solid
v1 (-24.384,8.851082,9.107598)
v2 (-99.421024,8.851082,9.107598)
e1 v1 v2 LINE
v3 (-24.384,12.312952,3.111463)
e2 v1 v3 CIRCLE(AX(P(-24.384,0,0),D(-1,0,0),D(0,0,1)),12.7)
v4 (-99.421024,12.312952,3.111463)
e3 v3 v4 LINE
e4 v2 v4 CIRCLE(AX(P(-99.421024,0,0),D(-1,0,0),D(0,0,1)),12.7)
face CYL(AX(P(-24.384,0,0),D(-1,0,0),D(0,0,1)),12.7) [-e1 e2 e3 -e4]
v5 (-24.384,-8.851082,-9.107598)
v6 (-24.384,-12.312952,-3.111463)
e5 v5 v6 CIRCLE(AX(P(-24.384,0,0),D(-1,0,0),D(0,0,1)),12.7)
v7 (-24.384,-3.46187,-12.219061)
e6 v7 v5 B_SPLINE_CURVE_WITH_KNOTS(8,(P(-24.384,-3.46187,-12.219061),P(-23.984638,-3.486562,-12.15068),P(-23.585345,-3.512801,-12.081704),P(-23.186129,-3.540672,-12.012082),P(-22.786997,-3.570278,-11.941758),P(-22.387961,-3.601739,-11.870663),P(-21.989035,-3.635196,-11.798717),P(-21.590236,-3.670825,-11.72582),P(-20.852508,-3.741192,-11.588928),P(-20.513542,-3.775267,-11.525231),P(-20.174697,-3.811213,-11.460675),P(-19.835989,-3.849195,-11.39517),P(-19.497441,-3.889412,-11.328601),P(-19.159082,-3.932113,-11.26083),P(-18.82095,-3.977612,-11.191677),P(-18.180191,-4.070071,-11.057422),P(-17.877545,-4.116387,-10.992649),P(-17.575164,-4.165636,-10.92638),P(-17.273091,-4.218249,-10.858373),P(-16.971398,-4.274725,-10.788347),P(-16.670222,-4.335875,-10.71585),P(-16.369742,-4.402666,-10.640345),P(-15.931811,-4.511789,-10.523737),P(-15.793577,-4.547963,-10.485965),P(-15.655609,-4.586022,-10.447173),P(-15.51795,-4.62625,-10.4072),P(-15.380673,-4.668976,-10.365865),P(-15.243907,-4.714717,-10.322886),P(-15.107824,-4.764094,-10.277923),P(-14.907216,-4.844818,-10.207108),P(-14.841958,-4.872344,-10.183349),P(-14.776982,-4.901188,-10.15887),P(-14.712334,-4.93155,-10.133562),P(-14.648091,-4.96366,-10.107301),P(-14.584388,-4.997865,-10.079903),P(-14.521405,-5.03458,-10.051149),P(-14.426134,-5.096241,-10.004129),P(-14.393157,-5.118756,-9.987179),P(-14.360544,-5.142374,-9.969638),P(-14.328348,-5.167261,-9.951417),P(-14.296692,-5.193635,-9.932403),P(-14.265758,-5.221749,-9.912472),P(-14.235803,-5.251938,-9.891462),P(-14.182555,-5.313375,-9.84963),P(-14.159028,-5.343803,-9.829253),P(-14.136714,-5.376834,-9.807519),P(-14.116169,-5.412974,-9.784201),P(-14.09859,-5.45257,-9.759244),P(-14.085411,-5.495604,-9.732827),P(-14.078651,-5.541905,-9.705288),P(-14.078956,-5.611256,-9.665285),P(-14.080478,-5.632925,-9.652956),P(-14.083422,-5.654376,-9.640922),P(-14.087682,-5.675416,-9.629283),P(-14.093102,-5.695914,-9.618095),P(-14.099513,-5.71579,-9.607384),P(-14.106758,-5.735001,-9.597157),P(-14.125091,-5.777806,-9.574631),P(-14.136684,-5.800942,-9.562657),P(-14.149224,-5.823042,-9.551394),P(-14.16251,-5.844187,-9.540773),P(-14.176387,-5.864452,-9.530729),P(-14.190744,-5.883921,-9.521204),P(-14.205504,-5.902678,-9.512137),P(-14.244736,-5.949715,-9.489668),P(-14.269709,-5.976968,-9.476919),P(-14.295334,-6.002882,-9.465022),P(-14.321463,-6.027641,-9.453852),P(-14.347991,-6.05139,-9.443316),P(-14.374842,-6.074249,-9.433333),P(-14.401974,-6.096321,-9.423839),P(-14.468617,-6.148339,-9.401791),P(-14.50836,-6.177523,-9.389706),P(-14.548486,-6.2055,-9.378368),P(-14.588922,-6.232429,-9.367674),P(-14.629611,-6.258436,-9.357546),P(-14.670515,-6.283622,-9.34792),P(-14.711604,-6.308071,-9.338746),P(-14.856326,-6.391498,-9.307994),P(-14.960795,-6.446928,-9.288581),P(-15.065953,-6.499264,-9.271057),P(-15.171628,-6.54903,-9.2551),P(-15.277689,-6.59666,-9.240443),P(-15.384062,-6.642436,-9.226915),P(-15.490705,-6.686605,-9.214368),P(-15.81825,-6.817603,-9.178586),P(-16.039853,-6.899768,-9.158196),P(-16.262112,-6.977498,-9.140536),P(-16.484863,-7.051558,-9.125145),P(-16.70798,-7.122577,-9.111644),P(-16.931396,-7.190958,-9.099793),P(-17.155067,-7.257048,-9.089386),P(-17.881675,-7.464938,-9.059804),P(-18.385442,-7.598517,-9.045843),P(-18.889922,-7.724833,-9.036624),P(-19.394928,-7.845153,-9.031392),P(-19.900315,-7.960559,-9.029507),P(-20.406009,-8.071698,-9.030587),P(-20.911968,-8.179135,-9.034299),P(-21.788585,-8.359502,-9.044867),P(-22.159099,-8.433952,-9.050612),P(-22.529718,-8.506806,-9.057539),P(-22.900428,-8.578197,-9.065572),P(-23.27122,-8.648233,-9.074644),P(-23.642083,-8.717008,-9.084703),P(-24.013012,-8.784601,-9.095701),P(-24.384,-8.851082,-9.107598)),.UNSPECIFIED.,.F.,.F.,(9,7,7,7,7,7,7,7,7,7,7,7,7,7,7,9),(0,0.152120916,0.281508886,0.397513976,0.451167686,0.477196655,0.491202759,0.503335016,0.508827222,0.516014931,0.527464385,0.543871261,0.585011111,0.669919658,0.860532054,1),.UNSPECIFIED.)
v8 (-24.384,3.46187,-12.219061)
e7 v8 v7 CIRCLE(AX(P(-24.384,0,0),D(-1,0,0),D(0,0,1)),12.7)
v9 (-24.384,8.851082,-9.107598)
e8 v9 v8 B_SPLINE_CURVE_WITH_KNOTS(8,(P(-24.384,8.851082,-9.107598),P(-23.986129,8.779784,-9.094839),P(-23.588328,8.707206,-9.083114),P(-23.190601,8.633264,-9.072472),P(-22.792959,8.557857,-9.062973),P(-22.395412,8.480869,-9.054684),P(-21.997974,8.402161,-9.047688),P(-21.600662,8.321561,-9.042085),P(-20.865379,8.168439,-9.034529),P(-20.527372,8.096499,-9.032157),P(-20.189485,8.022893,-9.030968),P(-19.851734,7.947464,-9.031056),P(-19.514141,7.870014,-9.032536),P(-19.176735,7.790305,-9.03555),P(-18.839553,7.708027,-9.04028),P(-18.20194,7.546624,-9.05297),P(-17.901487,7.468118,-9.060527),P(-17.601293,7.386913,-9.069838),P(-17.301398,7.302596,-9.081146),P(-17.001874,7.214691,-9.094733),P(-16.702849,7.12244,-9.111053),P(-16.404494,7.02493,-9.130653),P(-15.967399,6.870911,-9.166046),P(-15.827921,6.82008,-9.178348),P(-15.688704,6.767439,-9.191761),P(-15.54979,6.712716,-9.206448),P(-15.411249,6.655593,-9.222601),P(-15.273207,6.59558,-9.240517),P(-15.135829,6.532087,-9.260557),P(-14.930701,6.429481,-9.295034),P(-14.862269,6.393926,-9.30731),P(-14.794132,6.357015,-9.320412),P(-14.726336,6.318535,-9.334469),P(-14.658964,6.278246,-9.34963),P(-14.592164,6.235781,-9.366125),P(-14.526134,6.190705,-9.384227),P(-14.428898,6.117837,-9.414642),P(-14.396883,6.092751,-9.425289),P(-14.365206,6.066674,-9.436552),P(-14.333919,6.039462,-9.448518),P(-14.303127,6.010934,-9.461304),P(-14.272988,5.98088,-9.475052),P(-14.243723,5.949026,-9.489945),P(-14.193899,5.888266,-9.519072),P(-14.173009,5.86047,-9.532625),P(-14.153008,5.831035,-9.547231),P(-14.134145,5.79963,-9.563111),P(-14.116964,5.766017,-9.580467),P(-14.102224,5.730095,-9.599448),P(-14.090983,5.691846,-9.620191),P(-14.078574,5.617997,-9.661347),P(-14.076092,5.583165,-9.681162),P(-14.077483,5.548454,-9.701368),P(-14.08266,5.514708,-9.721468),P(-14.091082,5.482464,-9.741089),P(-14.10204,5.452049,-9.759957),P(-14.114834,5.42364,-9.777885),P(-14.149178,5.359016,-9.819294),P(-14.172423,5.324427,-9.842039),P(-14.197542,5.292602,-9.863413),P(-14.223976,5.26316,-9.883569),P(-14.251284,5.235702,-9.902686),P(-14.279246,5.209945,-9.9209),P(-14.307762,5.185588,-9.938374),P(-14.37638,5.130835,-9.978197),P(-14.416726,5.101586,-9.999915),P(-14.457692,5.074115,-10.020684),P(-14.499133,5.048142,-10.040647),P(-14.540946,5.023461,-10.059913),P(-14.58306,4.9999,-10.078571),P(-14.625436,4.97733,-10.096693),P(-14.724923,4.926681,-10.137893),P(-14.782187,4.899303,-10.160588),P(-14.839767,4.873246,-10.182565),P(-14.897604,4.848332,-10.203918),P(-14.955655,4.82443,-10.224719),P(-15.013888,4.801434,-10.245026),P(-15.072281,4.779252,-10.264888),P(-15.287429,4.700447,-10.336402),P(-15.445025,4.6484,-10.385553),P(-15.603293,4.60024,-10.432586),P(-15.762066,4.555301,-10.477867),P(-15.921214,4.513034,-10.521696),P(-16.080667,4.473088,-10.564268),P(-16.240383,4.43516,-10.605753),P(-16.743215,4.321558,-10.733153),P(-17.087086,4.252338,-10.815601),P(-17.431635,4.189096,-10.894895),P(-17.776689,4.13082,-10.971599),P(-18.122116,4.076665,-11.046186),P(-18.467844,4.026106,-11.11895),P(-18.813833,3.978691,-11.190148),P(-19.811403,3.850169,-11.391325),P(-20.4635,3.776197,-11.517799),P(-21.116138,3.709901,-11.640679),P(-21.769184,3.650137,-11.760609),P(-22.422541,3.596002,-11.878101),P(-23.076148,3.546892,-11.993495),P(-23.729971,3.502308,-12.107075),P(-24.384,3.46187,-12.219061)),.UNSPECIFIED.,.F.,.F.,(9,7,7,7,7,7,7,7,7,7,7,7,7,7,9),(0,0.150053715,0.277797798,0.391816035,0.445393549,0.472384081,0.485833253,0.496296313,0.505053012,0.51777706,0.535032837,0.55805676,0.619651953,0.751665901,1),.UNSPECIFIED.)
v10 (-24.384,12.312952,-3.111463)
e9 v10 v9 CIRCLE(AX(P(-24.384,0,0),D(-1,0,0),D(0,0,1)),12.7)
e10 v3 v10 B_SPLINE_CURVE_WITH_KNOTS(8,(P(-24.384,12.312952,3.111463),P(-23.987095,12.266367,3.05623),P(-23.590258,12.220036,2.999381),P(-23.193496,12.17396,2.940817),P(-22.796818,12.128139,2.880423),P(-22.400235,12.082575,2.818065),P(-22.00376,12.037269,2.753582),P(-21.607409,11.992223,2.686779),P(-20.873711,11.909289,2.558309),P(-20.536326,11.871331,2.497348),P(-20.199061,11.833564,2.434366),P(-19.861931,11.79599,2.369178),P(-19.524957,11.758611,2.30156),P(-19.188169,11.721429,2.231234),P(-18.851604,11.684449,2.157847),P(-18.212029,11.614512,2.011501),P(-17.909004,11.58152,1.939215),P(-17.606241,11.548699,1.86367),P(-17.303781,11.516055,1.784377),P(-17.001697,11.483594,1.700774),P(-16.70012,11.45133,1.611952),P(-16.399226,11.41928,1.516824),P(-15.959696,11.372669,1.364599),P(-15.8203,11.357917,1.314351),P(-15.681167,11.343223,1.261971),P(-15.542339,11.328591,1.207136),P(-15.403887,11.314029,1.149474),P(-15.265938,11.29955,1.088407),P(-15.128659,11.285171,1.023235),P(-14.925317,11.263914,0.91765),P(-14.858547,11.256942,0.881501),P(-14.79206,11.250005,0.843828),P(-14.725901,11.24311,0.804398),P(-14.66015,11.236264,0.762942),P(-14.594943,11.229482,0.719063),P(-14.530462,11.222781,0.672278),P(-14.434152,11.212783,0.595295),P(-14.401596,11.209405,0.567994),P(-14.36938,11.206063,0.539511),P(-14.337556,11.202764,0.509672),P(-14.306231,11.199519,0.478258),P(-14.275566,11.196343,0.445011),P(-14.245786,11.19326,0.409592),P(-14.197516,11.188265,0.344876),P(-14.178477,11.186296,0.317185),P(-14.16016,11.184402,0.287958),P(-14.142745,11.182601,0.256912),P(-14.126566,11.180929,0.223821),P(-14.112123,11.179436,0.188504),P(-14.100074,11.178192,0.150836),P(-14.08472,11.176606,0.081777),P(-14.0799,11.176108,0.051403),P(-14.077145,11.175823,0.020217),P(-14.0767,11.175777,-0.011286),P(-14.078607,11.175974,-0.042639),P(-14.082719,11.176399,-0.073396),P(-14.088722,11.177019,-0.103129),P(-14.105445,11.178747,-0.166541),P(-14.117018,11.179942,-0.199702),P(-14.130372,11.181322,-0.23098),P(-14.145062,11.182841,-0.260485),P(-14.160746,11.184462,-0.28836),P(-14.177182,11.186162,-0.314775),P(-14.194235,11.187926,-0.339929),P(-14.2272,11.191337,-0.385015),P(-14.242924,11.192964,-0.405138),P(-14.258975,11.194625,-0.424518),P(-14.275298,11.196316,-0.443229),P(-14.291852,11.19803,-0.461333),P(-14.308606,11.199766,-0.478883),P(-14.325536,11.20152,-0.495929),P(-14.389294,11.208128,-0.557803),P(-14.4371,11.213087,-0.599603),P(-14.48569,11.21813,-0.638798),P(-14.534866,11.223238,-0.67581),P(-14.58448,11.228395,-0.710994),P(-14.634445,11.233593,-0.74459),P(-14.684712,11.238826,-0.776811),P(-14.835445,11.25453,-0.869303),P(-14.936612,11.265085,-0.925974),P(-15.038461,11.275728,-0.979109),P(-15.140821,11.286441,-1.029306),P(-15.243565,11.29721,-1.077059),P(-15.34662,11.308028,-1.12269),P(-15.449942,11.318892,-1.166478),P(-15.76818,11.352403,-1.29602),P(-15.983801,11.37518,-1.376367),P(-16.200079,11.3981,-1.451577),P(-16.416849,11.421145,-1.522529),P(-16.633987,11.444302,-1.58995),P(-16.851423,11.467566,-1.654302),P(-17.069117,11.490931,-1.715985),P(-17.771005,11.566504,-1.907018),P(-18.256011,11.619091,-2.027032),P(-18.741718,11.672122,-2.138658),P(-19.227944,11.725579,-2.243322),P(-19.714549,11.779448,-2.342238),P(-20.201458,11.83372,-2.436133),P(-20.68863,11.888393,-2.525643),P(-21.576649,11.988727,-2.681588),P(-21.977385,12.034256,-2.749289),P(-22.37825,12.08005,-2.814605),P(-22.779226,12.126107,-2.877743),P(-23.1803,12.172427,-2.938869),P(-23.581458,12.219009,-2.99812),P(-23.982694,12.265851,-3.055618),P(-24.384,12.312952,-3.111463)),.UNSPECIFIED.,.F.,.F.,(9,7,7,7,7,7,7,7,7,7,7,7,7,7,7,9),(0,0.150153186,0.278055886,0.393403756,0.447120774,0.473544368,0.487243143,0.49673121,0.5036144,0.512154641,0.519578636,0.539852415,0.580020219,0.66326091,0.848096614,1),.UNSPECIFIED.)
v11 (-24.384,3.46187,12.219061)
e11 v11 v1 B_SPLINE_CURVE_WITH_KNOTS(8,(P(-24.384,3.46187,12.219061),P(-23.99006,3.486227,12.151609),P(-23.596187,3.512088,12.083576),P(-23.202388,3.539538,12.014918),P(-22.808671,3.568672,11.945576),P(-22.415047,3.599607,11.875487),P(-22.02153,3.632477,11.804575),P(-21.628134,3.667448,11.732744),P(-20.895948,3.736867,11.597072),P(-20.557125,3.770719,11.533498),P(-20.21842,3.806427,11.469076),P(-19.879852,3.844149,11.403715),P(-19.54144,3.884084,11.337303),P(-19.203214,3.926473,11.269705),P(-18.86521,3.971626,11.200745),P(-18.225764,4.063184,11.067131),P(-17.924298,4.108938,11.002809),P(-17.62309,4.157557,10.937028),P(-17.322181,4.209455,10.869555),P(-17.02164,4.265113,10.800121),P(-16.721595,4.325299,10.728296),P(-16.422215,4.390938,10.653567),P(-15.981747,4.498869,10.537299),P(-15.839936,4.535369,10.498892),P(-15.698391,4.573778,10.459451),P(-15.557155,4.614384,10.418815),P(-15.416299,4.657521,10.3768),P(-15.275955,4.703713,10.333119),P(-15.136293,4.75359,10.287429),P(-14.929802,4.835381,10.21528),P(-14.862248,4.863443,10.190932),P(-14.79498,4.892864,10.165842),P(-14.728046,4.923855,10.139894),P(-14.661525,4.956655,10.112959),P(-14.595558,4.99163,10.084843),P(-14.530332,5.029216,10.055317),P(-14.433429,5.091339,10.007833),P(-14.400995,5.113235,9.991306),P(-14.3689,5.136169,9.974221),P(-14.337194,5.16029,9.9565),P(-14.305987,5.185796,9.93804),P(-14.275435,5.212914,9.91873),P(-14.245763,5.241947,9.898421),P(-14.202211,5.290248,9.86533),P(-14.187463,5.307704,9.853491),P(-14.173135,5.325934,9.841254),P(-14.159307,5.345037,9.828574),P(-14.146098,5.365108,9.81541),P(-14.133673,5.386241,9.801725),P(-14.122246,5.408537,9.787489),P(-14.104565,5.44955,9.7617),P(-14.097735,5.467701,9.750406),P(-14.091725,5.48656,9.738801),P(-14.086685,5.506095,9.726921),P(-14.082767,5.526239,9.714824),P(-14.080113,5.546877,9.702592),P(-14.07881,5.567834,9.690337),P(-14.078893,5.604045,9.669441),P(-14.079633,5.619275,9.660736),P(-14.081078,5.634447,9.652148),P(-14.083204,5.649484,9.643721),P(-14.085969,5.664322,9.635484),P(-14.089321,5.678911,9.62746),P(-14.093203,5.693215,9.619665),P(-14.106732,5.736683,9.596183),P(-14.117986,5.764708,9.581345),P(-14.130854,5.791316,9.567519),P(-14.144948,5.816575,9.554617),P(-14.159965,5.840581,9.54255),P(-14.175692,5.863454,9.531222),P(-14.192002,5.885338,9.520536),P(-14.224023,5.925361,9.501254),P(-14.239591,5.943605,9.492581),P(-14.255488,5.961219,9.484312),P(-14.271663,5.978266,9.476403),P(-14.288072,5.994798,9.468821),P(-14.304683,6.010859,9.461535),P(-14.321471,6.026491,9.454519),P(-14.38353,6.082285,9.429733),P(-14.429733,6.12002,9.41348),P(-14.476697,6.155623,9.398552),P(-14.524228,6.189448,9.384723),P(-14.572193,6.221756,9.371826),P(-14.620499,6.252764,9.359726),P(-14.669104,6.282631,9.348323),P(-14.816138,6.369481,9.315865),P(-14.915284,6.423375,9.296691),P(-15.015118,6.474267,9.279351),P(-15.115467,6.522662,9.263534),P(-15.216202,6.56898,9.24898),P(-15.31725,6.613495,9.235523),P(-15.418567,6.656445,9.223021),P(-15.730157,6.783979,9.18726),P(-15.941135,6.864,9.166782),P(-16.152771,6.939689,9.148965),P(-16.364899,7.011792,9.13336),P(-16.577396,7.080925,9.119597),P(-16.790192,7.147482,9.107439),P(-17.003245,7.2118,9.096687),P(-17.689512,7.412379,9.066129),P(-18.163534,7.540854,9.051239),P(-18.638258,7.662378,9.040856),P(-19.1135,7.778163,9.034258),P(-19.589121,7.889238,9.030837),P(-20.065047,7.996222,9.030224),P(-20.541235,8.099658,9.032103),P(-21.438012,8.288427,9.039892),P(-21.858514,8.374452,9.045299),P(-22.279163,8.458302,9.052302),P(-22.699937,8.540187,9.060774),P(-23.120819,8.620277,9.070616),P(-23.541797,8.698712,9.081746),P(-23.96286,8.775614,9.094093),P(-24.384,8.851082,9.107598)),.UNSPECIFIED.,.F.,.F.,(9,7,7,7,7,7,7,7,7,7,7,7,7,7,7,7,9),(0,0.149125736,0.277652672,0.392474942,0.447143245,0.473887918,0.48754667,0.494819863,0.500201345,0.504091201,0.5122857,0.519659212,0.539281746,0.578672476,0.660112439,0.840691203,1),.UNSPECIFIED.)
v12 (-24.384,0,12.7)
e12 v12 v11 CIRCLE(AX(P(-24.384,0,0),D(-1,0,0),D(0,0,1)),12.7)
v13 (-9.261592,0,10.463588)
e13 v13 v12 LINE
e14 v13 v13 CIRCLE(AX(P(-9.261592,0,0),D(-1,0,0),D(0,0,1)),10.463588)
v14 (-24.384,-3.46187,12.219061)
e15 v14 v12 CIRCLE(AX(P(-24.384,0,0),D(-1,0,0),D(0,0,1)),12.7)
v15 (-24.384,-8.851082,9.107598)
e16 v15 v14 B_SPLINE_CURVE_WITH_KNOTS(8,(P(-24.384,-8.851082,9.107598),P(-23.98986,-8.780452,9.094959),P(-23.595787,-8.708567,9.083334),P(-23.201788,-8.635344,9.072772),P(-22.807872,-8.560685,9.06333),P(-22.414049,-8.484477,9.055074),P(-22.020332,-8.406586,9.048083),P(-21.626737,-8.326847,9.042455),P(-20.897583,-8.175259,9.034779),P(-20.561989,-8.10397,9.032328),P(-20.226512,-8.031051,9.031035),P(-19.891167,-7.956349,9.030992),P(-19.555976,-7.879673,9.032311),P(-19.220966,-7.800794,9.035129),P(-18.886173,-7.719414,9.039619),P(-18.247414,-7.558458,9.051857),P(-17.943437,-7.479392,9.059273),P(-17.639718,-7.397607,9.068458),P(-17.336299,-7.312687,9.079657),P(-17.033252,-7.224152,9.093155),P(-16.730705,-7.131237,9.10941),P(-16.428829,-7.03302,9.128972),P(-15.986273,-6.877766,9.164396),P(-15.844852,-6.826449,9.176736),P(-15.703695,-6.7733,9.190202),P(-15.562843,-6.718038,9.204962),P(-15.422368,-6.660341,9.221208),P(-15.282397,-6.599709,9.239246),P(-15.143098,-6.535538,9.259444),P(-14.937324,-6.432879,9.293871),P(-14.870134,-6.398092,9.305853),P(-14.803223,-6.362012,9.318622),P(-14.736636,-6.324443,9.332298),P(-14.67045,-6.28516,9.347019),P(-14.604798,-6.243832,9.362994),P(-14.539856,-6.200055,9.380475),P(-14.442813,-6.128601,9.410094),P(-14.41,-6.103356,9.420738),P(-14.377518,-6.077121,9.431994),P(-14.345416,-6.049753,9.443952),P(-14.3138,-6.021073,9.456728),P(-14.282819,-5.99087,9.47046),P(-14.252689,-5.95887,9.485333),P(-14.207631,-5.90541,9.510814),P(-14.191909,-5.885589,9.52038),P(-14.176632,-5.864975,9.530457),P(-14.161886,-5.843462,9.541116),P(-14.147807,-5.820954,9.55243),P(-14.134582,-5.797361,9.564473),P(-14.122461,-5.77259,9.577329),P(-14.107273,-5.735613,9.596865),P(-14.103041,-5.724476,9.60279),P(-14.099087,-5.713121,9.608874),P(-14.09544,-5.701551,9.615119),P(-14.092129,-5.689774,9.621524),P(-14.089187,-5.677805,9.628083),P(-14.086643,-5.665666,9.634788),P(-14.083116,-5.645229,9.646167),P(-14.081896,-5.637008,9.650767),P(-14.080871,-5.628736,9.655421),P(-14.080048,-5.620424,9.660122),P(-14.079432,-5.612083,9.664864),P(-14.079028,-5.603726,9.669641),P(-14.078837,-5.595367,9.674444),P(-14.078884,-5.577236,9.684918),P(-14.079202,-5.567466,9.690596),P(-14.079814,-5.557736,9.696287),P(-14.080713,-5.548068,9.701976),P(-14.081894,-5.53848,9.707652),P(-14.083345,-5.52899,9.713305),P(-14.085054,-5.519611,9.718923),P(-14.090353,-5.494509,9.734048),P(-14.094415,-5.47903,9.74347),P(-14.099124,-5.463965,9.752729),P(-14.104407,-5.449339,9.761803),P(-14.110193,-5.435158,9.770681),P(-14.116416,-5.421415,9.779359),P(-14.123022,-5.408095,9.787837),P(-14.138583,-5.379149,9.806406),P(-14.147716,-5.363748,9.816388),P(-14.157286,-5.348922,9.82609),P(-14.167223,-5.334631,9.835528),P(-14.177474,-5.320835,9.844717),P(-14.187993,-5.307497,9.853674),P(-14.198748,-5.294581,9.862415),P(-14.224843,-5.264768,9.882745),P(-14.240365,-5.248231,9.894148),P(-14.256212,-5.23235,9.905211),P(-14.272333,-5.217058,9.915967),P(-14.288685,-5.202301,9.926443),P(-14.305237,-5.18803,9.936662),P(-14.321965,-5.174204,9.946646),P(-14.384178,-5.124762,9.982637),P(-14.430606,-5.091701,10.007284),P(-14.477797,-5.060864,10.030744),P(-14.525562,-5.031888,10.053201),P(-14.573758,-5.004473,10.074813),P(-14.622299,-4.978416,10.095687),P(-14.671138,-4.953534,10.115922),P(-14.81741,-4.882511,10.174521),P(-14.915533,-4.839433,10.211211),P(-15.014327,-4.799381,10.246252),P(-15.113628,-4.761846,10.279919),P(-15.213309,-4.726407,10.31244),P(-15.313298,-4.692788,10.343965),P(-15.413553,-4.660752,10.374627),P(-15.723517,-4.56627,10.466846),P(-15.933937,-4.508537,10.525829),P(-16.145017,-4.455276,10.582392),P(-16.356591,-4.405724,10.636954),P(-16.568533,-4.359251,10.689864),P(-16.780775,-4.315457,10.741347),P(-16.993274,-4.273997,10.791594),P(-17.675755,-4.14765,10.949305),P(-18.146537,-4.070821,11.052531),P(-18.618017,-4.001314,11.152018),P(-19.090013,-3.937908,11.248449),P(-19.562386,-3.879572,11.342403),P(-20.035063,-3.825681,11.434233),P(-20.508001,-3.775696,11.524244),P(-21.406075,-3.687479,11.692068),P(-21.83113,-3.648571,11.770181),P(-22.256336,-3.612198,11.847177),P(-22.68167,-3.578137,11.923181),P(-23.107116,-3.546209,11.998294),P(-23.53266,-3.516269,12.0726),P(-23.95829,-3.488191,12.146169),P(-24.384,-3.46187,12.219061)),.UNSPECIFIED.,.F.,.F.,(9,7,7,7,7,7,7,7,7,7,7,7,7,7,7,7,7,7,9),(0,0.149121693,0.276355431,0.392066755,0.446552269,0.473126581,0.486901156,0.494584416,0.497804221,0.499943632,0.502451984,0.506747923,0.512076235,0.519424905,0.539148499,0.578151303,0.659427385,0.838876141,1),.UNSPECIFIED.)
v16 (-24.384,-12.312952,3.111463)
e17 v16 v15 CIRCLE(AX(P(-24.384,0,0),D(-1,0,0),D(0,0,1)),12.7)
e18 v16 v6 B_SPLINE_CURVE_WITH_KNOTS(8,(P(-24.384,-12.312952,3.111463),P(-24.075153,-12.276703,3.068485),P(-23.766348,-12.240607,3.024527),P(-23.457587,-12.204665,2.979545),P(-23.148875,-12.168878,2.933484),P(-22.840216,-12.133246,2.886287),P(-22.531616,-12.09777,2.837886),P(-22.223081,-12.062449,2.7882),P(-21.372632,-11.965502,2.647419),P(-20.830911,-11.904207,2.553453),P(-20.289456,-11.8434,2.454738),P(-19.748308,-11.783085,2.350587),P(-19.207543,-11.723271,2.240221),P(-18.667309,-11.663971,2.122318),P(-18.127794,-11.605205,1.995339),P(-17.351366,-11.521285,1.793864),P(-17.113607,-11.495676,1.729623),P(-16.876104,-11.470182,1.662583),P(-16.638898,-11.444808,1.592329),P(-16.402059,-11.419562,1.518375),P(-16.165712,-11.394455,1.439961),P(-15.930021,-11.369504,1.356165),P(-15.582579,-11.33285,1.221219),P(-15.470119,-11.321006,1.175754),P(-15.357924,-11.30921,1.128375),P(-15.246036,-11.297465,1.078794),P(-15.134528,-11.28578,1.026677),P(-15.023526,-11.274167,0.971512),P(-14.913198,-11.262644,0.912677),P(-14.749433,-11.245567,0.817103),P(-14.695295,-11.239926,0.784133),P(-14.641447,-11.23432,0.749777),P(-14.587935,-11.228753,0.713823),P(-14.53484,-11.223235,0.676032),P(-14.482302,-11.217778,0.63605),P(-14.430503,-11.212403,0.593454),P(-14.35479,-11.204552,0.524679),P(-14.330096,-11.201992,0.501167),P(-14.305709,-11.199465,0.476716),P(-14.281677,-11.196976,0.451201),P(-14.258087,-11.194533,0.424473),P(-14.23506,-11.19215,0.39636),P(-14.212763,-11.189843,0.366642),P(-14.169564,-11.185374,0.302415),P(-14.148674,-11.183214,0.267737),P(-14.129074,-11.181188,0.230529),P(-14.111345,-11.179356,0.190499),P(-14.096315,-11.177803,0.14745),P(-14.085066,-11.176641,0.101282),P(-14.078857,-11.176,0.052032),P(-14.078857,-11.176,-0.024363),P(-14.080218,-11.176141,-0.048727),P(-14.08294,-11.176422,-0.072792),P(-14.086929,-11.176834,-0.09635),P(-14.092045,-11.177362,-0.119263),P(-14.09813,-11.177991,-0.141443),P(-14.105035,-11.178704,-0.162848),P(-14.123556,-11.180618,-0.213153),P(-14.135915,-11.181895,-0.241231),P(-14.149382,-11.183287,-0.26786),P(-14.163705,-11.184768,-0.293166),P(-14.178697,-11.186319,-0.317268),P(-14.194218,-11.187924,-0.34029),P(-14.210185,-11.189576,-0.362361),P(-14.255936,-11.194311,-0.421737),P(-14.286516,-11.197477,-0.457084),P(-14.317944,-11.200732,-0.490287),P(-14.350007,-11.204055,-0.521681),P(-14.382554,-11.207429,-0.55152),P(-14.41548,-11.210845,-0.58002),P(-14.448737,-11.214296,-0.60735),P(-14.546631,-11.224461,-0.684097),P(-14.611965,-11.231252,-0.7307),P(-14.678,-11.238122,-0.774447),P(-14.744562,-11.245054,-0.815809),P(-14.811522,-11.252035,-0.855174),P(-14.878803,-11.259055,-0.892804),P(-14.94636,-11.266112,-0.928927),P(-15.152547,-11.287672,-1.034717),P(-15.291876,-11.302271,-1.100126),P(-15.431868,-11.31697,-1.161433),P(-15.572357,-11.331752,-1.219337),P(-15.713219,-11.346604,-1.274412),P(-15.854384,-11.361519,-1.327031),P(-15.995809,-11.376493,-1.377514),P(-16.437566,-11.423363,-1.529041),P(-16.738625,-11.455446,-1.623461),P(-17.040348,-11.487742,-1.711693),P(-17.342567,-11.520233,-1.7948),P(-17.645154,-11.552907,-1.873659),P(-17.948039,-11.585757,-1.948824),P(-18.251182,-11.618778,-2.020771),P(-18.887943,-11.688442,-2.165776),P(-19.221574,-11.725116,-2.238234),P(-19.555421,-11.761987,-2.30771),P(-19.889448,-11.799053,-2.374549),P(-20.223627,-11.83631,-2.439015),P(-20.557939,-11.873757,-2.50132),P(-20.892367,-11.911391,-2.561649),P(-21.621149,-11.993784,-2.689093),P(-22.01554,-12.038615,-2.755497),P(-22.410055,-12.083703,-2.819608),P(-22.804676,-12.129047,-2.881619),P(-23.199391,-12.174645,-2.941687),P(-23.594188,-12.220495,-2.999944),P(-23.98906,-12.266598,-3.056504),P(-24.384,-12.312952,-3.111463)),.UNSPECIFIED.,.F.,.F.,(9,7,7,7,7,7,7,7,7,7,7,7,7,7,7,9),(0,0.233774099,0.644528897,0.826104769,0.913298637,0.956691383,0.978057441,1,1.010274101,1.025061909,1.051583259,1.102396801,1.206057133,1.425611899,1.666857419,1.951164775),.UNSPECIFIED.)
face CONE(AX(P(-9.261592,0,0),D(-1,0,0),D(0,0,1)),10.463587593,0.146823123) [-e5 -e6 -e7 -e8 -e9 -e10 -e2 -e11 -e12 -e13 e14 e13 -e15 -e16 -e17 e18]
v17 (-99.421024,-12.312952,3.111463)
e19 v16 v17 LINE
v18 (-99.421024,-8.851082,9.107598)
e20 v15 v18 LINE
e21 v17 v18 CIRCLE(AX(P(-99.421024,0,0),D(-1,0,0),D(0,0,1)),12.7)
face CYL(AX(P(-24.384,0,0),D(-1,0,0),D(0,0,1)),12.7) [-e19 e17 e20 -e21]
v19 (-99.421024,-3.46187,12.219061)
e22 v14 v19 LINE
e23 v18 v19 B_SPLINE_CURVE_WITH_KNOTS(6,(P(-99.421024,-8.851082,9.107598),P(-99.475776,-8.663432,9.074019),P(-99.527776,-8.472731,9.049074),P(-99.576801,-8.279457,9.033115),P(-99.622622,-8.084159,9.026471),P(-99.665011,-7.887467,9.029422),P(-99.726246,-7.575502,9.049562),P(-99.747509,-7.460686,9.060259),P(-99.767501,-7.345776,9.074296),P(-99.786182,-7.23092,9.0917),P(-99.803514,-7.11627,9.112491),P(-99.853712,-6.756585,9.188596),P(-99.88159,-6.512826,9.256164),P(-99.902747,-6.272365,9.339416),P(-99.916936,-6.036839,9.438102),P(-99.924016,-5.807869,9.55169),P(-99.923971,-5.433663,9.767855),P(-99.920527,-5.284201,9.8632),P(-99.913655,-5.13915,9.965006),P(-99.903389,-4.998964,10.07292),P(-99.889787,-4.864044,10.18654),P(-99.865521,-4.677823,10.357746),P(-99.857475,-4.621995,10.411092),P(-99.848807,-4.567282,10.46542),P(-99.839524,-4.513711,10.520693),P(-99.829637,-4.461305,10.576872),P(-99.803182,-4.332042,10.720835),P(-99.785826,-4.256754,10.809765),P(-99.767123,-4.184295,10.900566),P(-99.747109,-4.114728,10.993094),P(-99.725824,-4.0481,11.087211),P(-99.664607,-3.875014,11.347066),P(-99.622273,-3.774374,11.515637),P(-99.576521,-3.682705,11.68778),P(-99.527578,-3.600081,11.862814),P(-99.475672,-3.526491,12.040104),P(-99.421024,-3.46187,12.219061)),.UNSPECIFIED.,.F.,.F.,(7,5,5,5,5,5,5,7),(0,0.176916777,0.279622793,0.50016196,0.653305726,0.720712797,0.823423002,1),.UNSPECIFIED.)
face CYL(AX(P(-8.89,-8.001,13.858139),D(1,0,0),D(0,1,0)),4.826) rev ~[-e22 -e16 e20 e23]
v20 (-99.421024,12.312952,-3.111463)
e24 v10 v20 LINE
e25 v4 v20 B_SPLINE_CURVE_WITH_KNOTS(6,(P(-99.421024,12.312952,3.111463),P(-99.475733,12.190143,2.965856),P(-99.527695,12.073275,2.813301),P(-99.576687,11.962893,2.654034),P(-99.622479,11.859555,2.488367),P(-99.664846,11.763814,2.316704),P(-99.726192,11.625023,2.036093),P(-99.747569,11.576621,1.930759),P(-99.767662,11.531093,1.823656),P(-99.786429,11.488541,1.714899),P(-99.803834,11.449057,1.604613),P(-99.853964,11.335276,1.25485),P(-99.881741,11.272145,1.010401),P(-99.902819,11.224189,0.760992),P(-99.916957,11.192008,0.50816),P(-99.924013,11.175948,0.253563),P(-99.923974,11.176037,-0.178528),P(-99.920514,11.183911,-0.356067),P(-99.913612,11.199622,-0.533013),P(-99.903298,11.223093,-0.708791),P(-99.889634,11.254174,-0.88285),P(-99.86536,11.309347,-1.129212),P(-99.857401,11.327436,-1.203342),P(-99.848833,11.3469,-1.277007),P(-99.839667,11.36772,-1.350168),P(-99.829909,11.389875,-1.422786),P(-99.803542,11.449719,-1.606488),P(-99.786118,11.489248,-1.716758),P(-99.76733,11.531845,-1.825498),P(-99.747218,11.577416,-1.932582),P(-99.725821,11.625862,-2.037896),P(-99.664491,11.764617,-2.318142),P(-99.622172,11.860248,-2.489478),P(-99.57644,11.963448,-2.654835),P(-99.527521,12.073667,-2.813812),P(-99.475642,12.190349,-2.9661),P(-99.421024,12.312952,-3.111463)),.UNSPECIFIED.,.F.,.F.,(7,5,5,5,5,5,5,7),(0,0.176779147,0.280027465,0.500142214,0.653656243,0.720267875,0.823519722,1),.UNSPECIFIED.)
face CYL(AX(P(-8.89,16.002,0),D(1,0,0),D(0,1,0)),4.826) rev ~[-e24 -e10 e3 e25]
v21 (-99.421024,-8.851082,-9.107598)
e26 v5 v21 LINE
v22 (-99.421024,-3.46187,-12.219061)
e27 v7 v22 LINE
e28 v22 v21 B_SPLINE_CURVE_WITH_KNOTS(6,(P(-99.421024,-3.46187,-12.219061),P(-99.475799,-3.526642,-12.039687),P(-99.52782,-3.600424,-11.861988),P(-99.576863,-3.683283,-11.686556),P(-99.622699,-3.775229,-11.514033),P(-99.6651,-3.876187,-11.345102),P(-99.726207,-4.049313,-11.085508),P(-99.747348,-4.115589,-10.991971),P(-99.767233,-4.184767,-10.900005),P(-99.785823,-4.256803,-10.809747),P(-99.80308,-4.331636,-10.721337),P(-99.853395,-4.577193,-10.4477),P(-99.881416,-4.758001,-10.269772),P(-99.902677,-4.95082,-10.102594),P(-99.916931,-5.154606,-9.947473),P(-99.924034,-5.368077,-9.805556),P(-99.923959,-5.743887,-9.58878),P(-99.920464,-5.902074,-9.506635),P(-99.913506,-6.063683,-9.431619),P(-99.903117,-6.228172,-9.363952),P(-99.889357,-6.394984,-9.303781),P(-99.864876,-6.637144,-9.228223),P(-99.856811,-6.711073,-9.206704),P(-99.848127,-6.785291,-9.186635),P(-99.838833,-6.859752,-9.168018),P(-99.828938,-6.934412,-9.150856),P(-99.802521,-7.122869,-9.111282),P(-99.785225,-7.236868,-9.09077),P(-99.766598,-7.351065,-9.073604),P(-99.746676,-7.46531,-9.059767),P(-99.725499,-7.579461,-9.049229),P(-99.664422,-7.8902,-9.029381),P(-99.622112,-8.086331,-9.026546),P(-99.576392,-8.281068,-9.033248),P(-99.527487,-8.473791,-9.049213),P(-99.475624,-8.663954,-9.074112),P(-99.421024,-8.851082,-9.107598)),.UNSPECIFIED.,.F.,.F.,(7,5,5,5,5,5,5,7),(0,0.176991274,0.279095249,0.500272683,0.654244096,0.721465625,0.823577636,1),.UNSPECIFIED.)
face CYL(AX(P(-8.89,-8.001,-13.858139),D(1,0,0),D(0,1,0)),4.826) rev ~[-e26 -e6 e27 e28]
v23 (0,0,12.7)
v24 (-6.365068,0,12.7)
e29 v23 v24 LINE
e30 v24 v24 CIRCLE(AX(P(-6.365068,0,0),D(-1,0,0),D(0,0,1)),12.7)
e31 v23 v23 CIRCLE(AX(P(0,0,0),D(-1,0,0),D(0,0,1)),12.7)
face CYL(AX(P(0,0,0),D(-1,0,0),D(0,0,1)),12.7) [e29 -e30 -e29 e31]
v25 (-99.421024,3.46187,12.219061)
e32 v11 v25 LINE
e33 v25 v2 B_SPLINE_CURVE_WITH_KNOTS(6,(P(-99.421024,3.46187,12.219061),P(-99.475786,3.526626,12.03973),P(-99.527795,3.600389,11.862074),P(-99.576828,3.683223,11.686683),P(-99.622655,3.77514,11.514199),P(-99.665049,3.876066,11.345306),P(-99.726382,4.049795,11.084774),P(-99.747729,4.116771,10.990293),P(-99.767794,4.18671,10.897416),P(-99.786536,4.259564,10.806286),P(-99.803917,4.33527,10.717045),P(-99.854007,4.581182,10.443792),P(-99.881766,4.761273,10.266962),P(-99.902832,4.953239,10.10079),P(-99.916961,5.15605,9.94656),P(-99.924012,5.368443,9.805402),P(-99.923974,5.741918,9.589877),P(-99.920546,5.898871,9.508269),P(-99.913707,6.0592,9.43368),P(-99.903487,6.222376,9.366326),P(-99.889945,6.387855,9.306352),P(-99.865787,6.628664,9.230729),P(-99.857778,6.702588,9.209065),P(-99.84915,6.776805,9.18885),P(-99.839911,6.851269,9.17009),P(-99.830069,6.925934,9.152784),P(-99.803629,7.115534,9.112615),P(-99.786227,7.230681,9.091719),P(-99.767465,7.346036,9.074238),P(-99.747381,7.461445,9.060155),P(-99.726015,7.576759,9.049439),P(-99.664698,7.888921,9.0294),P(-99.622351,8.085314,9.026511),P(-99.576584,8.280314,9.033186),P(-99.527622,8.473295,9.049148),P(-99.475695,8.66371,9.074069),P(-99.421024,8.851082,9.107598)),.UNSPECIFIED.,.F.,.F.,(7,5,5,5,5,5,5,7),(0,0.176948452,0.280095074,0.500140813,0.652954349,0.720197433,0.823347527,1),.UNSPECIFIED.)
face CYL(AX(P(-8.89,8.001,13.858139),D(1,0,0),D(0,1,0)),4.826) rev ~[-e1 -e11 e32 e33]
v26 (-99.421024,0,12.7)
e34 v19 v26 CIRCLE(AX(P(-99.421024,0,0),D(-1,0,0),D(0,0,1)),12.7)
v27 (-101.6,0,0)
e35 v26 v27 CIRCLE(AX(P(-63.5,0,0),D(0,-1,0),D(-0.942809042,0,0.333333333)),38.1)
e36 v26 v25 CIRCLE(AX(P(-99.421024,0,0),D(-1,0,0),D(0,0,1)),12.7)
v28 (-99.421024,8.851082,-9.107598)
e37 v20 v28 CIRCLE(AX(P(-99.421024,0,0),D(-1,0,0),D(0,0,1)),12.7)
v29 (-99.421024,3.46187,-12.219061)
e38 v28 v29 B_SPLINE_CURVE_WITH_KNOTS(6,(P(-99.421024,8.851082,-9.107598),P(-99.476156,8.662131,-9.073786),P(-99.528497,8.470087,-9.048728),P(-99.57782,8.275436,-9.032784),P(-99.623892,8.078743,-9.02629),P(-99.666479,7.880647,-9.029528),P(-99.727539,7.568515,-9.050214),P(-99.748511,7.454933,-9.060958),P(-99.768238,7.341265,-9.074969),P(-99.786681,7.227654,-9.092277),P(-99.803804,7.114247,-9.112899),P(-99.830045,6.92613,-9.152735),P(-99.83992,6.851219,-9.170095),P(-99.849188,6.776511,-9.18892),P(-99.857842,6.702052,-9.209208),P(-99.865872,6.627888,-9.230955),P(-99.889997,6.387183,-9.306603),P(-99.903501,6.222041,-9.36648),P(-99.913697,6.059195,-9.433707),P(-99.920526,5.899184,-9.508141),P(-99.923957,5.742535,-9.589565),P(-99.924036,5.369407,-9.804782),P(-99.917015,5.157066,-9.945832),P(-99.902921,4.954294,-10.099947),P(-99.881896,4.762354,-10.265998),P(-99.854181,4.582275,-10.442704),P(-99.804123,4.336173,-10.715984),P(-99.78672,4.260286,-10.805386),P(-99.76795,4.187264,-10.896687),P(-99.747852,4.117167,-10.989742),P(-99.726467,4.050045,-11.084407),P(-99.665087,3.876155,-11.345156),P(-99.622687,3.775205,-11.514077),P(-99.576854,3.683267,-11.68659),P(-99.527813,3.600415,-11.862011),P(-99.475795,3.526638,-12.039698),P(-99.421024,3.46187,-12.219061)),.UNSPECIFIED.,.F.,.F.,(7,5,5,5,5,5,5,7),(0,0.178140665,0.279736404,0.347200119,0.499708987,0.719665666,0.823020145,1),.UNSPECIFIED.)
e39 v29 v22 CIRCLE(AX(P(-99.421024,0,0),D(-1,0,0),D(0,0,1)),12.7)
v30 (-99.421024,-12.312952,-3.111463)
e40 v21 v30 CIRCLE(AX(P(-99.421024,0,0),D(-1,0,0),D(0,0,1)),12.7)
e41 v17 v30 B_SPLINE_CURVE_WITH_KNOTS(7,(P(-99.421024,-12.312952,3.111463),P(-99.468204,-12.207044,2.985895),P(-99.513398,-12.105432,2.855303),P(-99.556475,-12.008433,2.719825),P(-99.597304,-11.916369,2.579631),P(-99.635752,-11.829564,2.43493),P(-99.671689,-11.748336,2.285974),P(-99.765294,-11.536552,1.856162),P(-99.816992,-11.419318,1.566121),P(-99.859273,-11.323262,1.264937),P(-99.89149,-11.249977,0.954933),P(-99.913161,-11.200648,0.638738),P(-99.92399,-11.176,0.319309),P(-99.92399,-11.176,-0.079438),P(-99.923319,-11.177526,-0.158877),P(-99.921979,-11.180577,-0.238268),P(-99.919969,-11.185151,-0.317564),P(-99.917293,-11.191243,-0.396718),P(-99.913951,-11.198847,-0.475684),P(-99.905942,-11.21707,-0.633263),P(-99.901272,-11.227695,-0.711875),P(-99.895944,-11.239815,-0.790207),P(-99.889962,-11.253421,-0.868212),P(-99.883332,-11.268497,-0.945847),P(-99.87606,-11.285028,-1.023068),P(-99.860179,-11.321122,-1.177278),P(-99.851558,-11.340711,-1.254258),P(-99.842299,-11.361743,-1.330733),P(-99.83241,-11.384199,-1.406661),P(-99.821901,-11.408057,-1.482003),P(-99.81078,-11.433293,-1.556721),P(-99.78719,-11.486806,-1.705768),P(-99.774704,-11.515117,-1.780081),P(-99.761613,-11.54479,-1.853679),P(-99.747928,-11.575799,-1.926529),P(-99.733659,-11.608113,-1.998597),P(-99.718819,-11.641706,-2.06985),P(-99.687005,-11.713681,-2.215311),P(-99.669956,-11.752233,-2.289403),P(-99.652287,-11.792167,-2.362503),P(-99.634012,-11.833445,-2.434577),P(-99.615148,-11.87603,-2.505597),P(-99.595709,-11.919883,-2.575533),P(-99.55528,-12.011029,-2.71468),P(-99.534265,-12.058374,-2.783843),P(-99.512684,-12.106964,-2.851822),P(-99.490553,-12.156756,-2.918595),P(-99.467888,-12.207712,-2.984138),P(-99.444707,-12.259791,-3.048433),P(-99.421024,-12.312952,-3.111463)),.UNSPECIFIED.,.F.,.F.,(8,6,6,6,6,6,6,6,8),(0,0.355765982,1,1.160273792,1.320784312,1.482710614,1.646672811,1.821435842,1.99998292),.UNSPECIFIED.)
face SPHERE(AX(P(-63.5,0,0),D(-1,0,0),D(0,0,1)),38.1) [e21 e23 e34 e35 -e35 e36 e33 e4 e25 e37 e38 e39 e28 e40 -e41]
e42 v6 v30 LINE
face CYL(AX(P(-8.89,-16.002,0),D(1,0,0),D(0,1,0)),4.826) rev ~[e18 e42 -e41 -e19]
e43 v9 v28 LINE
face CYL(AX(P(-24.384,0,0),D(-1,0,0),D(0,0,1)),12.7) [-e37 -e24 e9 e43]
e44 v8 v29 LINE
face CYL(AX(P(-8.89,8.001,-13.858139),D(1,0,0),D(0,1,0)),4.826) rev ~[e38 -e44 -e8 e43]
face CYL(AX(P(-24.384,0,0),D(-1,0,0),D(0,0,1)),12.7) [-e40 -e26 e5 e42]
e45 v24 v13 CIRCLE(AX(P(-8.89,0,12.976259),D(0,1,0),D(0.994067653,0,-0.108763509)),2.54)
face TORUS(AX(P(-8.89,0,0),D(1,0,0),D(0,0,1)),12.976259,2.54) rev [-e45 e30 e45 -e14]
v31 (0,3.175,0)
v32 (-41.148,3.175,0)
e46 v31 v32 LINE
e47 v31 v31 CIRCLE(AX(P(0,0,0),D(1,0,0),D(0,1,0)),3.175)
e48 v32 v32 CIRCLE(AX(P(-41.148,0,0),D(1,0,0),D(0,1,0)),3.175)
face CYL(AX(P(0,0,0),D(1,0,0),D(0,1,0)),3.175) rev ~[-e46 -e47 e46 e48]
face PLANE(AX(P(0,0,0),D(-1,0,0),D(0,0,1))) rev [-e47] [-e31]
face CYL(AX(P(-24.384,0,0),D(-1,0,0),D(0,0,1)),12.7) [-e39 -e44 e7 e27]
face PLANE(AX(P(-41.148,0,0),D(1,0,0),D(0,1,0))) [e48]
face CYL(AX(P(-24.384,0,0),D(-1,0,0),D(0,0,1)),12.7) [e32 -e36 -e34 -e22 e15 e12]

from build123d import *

# Parameters (mm, degrees)
F3_START = -8.89
F2_R     = 4.826
F3_DEPTH = 92.71
F4_R     = 3.175
F5_DEPTH = 41.148


with BuildPart() as f1:
    # F0 (on Front) → F1 (revolve)
    with BuildSketch(Plane.XZ):
        with BuildLine():
            Line((-6.35, 0), (0, 0))
            Line((0, 0), (0, 12.7))
            Line((0, 12.7), (-6.35, 12.7))
            Line((-6.35, 12.7), (-6.3650681608, 12.7))
            ThreePointArc((-6.3650681608, 12.7), (-7.3377104297, 10.9657874542), (-9.2615922964, 10.4635875931))
            Line((-9.2615922964, 10.4635875931), (-24.384, 12.7))
            Line((-24.384, 12.7), (-33.274, 12.7))
            Line((-33.274, 12.7), (-60.9909756098, 12.7))
            Line((-60.9909756098, 12.7), (-69.8809756098, 12.7))
            Line((-69.8809756098, 12.7), (-99.4210244843, 12.7))
            ThreePointArc((-99.4210244843, 12.7), (-101.0513051228, 6.4427853895), (-101.6, 0))
            Line((-101.6, 0), (-6.35, 0))
        make_face()
    revolve(axis=Axis((-50.8, 0, 0), (-1, 0, 0)))

    # F2 (on Right) → F3 (cut)
    with BuildSketch(Plane.YZ.offset(F3_START)):
        with Locations((-16.002, 0)):
            Circle(F2_R)
        with Locations((-8.001, 13.8581385114)):
            Circle(F2_R)
        with Locations((8.001, 13.8581385114)):
            Circle(F2_R)
        with Locations((16.002, 0)):
            Circle(F2_R)
        with Locations((8.001, -13.8581385114)):
            Circle(F2_R)
        with Locations((-8.001, -13.8581385114)):
            Circle(F2_R)
    extrude(amount=-F3_DEPTH, mode=Mode.SUBTRACT)

    # F4 (on Right) → F5 (cut)
    with BuildSketch(Plane.YZ):
        Circle(F4_R)
    extrude(amount=-F5_DEPTH, mode=Mode.SUBTRACT)


solid = f1.part
